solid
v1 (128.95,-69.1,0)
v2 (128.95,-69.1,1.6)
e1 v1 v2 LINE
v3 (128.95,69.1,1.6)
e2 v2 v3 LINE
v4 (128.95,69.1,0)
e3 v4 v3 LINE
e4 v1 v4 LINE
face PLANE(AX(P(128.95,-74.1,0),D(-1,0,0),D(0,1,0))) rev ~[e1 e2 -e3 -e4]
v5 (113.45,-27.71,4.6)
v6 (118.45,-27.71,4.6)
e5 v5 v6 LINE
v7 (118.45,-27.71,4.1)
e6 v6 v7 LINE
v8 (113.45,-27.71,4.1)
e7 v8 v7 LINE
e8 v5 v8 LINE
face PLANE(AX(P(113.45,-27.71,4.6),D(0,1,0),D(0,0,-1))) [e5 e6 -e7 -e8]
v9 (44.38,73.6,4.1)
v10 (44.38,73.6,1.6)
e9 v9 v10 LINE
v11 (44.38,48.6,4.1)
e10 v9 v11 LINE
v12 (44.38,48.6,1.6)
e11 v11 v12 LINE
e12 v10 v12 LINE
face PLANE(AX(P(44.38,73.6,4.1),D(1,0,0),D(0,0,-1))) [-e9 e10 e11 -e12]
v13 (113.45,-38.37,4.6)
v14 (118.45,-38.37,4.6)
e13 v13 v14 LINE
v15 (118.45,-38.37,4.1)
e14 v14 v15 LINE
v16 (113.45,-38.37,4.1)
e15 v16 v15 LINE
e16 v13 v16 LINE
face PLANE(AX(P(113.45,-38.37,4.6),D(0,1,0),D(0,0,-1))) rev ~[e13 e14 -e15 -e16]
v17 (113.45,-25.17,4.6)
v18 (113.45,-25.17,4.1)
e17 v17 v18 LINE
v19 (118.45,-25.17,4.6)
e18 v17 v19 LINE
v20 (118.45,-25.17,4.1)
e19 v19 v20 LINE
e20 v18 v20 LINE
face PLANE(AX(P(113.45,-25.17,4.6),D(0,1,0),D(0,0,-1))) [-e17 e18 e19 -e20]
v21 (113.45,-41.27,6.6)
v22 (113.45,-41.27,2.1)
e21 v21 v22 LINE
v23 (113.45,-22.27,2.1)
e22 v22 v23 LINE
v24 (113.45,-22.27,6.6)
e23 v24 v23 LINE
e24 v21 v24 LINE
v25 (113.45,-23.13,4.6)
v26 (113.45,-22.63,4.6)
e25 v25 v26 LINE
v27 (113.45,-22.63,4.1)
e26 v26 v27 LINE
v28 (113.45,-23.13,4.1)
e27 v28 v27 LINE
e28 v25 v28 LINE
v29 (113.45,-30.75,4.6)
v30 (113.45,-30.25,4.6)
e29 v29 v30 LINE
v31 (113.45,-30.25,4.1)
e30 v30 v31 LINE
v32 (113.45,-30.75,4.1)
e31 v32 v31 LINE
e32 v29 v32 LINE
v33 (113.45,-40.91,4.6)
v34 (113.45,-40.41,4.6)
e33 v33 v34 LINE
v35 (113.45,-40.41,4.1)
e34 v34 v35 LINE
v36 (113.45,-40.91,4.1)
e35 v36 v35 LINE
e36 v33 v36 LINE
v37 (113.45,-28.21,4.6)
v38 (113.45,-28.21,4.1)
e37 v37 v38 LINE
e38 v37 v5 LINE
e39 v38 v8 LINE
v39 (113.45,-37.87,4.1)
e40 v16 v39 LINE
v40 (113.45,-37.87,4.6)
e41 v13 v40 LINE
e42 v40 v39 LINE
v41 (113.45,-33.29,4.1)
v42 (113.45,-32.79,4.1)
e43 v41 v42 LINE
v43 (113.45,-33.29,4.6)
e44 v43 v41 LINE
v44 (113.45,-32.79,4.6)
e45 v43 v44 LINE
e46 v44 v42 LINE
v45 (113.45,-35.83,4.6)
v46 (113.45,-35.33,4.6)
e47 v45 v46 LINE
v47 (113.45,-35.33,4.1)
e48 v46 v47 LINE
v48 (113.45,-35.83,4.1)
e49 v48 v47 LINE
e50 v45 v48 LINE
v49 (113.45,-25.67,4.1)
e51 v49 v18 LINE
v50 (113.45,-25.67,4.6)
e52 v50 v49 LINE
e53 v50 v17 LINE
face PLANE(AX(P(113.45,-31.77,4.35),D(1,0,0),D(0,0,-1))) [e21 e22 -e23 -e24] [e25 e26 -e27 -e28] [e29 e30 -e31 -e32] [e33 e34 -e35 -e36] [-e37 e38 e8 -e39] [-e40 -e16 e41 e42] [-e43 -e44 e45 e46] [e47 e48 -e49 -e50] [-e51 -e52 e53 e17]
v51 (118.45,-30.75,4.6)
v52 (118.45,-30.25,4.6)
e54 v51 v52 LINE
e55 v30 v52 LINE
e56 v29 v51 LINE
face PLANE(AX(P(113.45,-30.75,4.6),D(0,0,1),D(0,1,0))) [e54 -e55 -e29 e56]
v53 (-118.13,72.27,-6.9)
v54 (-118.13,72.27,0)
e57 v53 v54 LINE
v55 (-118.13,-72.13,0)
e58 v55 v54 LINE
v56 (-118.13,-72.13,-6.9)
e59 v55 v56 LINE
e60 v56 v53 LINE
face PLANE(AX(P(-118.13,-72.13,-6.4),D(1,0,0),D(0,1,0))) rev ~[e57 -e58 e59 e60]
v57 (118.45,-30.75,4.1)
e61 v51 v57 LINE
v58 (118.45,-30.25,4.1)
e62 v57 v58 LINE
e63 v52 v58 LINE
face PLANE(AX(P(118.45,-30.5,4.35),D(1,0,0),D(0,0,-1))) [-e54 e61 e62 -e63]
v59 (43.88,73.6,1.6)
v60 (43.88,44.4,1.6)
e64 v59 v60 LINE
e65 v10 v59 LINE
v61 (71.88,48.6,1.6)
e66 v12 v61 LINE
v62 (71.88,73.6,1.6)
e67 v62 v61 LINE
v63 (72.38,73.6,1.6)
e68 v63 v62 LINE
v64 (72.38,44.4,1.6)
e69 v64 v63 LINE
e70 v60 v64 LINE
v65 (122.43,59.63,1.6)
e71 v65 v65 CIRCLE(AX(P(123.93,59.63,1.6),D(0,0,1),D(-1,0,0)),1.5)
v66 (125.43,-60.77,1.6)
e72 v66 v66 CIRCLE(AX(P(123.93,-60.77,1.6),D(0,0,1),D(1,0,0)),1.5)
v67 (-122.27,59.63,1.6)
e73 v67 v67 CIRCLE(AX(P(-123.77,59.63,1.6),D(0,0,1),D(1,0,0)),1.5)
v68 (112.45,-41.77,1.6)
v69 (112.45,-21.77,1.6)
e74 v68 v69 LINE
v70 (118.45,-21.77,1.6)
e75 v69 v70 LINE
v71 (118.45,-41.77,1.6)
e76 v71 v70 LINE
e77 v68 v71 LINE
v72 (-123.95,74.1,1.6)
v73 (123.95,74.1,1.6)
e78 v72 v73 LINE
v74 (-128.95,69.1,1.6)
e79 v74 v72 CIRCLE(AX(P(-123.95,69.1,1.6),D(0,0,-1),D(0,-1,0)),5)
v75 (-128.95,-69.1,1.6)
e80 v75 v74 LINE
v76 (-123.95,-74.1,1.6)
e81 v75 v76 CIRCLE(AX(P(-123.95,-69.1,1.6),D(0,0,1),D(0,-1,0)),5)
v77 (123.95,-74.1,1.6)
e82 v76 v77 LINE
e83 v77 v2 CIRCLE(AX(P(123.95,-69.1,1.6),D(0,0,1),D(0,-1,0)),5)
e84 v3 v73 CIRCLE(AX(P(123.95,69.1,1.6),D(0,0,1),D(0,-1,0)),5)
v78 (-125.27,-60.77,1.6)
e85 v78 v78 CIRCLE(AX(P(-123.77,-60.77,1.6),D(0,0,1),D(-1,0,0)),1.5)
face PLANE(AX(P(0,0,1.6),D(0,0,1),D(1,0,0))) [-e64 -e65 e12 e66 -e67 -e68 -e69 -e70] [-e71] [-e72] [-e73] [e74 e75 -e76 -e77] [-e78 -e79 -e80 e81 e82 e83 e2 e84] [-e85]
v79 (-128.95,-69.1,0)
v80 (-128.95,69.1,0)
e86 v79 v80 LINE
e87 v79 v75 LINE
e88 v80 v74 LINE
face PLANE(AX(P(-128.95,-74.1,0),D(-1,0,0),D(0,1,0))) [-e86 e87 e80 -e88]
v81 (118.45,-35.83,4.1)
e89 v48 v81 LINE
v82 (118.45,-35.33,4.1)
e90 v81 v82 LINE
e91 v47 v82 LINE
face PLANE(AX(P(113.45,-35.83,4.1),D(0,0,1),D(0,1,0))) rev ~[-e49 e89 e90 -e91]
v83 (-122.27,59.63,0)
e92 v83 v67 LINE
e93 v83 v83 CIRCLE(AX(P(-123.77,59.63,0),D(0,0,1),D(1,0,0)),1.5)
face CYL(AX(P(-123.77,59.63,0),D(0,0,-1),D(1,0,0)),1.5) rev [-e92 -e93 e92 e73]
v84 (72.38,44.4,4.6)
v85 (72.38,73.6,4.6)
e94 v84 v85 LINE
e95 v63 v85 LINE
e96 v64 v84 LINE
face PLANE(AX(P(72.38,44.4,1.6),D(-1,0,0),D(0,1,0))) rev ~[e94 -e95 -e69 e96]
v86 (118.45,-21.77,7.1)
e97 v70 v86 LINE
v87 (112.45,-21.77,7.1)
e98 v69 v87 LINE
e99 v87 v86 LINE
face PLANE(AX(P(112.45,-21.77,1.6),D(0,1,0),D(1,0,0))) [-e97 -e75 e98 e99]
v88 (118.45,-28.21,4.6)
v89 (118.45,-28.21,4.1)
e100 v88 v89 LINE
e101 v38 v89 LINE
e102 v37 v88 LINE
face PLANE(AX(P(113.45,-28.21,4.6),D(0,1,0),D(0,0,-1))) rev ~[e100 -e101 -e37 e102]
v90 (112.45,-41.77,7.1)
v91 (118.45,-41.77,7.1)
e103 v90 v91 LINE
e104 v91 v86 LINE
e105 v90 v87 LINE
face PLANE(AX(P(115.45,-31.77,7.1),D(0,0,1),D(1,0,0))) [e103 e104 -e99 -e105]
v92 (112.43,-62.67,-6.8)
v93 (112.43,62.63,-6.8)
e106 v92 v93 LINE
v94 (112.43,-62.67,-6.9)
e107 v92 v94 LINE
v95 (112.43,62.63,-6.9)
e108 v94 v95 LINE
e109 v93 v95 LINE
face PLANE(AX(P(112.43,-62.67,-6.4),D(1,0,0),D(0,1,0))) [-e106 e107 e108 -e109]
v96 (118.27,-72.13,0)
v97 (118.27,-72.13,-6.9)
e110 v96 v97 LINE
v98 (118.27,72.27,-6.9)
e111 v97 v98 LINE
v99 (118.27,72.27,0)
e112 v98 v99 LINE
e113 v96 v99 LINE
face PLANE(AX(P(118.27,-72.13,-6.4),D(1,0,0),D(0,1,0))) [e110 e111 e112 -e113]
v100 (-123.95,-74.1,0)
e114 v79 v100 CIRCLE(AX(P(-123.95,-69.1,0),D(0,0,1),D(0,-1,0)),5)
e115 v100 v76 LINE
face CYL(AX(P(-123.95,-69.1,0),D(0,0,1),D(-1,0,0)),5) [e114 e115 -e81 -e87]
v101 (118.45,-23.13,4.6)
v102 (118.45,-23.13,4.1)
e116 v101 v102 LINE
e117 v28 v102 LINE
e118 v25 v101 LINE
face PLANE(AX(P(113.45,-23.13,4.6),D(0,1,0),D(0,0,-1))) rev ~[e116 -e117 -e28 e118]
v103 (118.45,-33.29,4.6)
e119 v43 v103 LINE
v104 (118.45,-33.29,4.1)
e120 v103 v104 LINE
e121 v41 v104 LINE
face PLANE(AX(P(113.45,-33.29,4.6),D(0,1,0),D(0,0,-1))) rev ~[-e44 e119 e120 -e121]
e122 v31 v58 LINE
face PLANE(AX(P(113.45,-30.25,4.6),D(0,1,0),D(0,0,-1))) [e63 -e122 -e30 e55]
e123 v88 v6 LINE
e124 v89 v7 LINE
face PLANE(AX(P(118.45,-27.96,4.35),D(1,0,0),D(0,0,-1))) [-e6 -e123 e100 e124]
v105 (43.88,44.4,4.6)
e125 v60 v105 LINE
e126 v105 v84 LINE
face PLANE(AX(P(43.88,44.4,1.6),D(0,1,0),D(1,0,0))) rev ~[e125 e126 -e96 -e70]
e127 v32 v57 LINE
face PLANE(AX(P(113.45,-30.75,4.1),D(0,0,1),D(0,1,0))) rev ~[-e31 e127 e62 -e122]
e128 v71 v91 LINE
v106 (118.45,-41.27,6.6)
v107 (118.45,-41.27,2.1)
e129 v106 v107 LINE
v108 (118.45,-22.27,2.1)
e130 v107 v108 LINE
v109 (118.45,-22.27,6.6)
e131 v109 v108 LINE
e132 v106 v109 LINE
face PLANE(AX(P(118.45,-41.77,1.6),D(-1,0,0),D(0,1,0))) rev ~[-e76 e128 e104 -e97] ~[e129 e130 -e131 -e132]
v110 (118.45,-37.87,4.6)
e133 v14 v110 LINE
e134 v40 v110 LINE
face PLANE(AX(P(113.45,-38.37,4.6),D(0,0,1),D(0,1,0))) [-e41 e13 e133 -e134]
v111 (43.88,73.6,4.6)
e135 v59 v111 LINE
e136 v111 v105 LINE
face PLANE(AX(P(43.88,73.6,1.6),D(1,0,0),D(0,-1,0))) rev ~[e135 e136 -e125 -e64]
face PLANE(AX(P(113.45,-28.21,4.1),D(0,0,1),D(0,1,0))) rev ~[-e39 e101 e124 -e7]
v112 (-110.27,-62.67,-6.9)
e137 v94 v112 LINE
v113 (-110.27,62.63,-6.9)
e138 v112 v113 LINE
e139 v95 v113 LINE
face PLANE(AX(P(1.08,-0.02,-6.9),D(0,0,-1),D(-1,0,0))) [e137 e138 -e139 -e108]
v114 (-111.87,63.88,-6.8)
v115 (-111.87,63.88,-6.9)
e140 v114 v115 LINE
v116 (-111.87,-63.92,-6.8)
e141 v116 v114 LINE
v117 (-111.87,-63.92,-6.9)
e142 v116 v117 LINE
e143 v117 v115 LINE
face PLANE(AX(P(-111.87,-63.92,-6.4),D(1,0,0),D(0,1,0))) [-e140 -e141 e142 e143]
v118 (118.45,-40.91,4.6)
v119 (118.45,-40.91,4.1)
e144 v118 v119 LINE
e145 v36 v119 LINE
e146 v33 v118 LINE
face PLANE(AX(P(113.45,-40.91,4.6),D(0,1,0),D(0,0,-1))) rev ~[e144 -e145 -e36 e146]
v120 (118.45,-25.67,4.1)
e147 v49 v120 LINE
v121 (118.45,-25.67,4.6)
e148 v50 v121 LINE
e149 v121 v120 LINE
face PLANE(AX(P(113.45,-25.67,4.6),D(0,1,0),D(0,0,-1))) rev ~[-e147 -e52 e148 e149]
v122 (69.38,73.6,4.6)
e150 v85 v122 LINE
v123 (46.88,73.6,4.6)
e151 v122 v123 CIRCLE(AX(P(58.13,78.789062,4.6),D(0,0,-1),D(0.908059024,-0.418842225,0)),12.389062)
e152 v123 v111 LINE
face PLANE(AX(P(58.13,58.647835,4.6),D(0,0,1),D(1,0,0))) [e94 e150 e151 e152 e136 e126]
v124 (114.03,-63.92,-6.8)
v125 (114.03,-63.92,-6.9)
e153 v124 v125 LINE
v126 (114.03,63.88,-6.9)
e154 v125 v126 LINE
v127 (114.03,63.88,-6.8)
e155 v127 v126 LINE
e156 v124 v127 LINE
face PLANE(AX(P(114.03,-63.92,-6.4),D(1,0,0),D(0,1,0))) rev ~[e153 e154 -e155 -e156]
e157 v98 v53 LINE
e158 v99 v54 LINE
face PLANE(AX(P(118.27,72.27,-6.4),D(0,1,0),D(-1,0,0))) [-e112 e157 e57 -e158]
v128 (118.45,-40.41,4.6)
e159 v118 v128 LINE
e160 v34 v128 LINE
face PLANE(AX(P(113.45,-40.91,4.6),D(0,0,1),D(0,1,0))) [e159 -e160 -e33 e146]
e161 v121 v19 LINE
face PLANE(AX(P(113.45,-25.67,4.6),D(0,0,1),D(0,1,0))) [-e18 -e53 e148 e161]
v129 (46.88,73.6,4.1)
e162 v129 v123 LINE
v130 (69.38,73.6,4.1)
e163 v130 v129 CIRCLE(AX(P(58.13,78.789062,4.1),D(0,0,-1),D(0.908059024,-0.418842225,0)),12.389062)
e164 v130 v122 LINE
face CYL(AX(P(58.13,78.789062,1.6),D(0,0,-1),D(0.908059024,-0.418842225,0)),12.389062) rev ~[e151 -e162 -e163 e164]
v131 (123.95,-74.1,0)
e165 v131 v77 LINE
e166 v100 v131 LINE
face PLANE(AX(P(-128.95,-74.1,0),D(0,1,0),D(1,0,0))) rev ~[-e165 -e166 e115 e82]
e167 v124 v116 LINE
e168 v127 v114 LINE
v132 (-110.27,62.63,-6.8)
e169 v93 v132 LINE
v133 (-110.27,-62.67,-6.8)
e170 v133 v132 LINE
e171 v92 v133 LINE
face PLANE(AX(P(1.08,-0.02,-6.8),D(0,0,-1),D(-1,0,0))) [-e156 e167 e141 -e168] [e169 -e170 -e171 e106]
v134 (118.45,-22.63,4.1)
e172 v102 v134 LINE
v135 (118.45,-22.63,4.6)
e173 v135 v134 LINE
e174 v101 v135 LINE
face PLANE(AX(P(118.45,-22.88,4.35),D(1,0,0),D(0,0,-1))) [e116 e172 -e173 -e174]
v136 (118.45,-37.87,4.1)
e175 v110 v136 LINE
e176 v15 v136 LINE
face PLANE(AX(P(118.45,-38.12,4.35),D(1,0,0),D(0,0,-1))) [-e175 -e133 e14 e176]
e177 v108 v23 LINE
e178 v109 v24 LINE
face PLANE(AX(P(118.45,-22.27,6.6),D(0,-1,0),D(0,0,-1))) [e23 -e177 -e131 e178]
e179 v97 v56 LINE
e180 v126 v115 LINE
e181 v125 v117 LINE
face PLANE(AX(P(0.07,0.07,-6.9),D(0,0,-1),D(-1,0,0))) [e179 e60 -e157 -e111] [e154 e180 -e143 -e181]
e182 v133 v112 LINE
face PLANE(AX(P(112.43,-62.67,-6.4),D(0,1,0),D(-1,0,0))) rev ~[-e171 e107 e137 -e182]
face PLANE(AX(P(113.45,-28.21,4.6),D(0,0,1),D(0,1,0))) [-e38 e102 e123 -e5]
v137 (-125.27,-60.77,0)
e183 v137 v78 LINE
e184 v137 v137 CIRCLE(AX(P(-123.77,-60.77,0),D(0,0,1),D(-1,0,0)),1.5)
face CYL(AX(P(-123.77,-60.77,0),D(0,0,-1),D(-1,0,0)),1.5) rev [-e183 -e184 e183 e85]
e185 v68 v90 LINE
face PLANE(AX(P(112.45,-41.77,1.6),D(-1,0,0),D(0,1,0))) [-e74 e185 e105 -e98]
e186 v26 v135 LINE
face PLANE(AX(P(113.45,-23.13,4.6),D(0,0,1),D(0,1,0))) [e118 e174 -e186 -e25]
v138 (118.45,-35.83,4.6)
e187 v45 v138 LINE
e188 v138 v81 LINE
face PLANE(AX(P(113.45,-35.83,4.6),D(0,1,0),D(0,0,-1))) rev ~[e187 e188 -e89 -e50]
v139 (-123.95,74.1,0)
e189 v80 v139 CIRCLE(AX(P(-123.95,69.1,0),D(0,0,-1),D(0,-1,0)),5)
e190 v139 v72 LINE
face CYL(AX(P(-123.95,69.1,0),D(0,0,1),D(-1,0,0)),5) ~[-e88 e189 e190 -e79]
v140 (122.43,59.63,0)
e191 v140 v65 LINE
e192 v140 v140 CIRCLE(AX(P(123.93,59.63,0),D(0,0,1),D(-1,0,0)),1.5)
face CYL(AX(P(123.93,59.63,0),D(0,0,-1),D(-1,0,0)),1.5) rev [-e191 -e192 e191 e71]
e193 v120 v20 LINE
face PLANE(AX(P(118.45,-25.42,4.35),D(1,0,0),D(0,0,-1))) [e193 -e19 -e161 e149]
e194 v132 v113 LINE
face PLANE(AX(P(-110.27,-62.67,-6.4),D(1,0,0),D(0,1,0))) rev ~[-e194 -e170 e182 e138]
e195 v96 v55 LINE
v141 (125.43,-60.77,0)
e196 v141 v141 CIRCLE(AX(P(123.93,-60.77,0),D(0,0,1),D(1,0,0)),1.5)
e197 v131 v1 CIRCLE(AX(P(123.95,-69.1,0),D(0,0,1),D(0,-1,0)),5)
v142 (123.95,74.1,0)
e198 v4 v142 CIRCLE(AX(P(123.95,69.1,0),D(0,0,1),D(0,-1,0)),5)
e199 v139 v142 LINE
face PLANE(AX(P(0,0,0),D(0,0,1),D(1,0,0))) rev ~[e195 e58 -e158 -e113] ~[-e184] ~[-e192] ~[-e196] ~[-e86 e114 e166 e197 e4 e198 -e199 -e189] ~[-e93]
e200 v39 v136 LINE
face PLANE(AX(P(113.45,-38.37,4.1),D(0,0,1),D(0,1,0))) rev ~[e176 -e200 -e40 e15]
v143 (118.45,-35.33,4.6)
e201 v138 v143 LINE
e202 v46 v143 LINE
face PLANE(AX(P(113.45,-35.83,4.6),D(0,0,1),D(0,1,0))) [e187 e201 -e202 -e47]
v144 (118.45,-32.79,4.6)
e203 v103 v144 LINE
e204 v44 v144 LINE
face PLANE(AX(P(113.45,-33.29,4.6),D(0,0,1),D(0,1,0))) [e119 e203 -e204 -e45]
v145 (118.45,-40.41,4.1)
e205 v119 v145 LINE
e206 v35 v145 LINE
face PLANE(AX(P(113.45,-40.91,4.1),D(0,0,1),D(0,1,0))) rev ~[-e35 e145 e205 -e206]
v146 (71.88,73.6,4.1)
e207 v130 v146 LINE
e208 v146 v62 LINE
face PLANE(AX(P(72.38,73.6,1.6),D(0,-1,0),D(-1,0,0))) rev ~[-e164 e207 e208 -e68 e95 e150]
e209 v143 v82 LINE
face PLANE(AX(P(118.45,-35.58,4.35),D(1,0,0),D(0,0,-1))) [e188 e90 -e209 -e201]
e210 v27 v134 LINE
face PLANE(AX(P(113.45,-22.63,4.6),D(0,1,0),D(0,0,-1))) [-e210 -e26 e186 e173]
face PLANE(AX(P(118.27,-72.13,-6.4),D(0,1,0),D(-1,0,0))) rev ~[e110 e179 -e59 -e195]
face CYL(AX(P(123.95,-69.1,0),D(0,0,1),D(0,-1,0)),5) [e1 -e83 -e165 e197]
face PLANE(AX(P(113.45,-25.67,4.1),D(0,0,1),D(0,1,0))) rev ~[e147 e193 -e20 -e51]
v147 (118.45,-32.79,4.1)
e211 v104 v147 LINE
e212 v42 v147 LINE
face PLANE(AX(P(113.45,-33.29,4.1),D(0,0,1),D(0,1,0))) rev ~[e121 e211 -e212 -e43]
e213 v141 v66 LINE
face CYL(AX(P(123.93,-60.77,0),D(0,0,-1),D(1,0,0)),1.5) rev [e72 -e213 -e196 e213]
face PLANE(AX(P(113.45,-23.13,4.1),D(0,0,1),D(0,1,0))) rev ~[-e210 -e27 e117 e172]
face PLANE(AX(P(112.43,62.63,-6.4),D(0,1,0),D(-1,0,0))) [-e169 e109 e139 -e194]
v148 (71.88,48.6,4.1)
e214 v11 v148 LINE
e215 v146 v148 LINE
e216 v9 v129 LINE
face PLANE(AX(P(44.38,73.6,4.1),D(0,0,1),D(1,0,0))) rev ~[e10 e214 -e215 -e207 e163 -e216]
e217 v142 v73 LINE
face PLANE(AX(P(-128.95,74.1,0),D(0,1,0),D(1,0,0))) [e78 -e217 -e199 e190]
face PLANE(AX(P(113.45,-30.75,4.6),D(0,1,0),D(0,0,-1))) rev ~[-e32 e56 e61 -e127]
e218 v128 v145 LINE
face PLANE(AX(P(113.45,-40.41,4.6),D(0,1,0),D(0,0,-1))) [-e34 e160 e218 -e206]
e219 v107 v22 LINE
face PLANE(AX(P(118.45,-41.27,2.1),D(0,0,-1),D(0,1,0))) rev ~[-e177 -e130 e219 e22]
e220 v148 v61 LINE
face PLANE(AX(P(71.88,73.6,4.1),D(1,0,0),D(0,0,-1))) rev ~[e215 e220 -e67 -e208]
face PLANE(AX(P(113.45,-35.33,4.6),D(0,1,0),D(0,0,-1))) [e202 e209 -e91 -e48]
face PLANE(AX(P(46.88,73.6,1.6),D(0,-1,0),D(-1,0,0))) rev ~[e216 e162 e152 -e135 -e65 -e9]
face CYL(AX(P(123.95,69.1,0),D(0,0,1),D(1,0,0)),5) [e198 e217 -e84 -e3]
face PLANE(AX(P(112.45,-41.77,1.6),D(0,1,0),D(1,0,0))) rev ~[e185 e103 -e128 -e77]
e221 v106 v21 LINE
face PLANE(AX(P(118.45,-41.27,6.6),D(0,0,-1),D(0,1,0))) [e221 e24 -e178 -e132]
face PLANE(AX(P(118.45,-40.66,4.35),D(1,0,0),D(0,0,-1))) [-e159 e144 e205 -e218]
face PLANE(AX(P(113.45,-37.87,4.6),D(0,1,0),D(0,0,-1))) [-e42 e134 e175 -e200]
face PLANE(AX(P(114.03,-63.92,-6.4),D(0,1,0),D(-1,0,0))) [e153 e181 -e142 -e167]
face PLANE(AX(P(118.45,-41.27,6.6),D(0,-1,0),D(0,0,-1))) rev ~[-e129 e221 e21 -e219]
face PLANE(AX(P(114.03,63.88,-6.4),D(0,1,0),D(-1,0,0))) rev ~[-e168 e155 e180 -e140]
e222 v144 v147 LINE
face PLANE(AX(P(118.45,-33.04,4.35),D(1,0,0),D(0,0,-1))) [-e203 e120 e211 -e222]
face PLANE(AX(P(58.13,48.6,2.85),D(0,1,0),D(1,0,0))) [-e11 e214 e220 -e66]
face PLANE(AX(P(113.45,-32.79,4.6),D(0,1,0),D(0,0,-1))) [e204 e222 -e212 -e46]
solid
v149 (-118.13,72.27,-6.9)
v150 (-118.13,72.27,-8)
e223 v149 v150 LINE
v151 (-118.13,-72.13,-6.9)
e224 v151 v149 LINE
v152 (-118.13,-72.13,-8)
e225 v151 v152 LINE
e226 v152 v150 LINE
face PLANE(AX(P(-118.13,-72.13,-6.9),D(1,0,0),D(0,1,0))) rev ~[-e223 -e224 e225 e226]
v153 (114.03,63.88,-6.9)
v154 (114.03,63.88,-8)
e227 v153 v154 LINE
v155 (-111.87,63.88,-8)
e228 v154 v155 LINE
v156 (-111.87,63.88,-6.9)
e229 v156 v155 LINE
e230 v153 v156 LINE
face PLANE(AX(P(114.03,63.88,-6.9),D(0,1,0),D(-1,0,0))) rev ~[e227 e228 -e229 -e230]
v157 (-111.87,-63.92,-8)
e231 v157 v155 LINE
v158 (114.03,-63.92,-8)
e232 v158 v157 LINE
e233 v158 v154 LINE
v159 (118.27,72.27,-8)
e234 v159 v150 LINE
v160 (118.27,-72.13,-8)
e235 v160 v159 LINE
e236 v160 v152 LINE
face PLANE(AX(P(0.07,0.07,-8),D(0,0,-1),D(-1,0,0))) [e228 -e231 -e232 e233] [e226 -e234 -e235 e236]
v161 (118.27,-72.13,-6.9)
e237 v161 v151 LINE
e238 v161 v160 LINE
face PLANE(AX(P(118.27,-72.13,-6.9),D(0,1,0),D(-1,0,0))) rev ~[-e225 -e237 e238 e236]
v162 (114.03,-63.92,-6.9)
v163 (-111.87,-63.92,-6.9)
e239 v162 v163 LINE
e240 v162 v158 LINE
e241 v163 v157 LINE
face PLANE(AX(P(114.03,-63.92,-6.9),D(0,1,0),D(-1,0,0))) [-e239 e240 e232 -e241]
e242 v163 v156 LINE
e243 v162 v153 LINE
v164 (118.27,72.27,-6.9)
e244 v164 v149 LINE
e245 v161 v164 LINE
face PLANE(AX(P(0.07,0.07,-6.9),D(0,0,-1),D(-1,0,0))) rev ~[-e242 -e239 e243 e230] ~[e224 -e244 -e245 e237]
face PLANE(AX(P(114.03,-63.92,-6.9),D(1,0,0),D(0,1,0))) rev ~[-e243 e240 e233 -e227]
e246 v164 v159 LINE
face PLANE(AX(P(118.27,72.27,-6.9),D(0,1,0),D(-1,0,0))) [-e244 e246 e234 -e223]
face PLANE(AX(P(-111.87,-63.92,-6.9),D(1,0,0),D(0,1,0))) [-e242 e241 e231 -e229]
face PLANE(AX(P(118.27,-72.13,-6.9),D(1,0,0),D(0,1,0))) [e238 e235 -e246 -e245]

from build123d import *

# Parameters (mm, degrees)
SKETCH_1_W            = 257.9
SKETCH_1_H            = 148.2
EXTRUDE_1_DEPTH       = 1.6
FILLET_1_R            = 5
SKETCH_2_R            = 1.5
CUT_EXTRUDE_864_DEPTH = 1.6
SKETCH_3_W            = 236.4
SKETCH_3_H            = 144.4
EXTRUDE_1149_DEPTH    = 6.4
SKETCH_4_W            = 236.4
SKETCH_4_H            = 144.4
SKETCH_4_W_2          = 225.9
SKETCH_4_H_2          = 127.8
EXTRUDE_1442_DEPTH    = 0.5
SKETCH_5_W            = 222.7
SKETCH_5_H            = 125.3
EXTRUDE_1729_DEPTH    = 0.5
SKETCH_6_W            = 225.9
SKETCH_6_H            = 127.8
SKETCH_6_W_2          = 222.7
SKETCH_6_H_2          = 125.3
EXTRUDE_2020_DEPTH    = 0.4
SKETCH_7_W            = 6
SKETCH_7_H            = 20
EXTRUDE_4_DEPTH       = 5.5
SKETCH_8_W            = 4.5
SKETCH_8_H            = 19
CUT_EXTRUDE_1_DEPTH   = 5
SKETCH_9_W            = 0.5
SKETCH_9_H            = 0.5
EXTRUDE_5_DEPTH       = 5
EXTRUDE_6_DEPTH       = 3
SKETCH_11_W           = 27.5
SKETCH_11_H           = 2.5
CUT_EXTRUDE_2_DEPTH   = 25
SKETCH_14_W           = 236.4
SKETCH_14_H           = 144.4
SKETCH_14_W_2         = 225.9
SKETCH_14_H_2         = 127.8
EXTRUDE_4115_DEPTH    = 1.1


with BuildPart() as part:
    # 草图1 → 凸台-拉伸1 (new body)
    with BuildSketch(Plane.XY):
        Rectangle(SKETCH_1_W, SKETCH_1_H)
    extrude(amount=EXTRUDE_1_DEPTH)

    # 圆角1
    fillet_1_edges = [part.edges().sort_by_distance(p)[0] for p in [
        (-128.95, 74.1, 0.8),
        (128.95, 74.1, 0.8),
        (128.95, -74.1, 0.8),
        (-128.95, -74.1, 0.8),
    ]]
    fillet(fillet_1_edges, radius=FILLET_1_R)

    # 草图2 → Cut-Extrude 864 (cut)
    with BuildSketch(Plane.XY):
        with Locations((-123.77, 59.63)):
            Circle(SKETCH_2_R)
        with Locations(Location((123.93, 59.63, 0), (0, 0, 180))):
            Circle(SKETCH_2_R)
        with Locations((123.93, -60.77)):
            Circle(SKETCH_2_R)
        with Locations(Location((-123.77, -60.77, 0), (0, 0, 180))):
            Circle(SKETCH_2_R)
    extrude(amount=CUT_EXTRUDE_864_DEPTH, mode=Mode.SUBTRACT)

    # 草图3 → Extrude 1149 (add)
    with BuildSketch(Plane(origin=(0, 0, 0), x_dir=(-1, 0, 0), z_dir=(0, 0, -1))):
        with Locations((-0.07, 0.07)):
            Rectangle(SKETCH_3_W, SKETCH_3_H)
    extrude(amount=EXTRUDE_1149_DEPTH)

    # 草图4 → Extrude 1442 (add)
    with BuildSketch(Plane(origin=(0, 0, -6.4), x_dir=(-1, 0, 0), z_dir=(0, 0, -1))):
        with Locations((-0.07, 0.07)):
            Rectangle(SKETCH_4_W, SKETCH_4_H)
        with Locations((-1.08, -0.02)):
            Rectangle(SKETCH_4_W_2, SKETCH_4_H_2, mode=Mode.SUBTRACT)
    extrude(amount=EXTRUDE_1442_DEPTH)

    # 草图5 → Extrude 1729 (add)
    with BuildSketch(Plane(origin=(0, 0, -6.4), x_dir=(-1, 0, 0), z_dir=(0, 0, -1))):
        with Locations((-1.08, -0.02)):
            Rectangle(SKETCH_5_W, SKETCH_5_H)
    extrude(amount=EXTRUDE_1729_DEPTH)

    # 草图6 → Extrude 2020 (add)
    with BuildSketch(Plane(origin=(0, 0, -6.4), x_dir=(-1, 0, 0), z_dir=(0, 0, -1))):
        with Locations((-1.08, -0.02)):
            Rectangle(SKETCH_6_W, SKETCH_6_H)
        with Locations((-1.08, -0.02)):
            Rectangle(SKETCH_6_W_2, SKETCH_6_H_2, mode=Mode.SUBTRACT)
    extrude(amount=EXTRUDE_2020_DEPTH)

    # 草图7 → 凸台-拉伸4 (add)
    with BuildSketch(Plane.XY.offset(1.6)):
        with Locations((115.45, -31.77)):
            Rectangle(SKETCH_7_W, SKETCH_7_H)
    extrude(amount=EXTRUDE_4_DEPTH)

    # 草图8 → 切除-拉伸1 (cut)
    with BuildSketch(Plane(origin=(118.45, 0, 0), x_dir=(0, 0, -1), z_dir=(1, 0, 0))):
        with Locations((-4.35, -31.77)):
            Rectangle(SKETCH_8_W, SKETCH_8_H)
    extrude(amount=-CUT_EXTRUDE_1_DEPTH, mode=Mode.SUBTRACT)

    # 草图9 → 凸台-拉伸5 (add)
    with BuildSketch(Plane(origin=(113.45, 0, 0), x_dir=(0, 0, -1), z_dir=(1, 0, 0))):
        with Locations((-4.35, -30.5)):
            Rectangle(SKETCH_9_W, SKETCH_9_H)
        with Locations((-4.35, -27.96)):
            Rectangle(SKETCH_9_W, SKETCH_9_H)
        with Locations((-4.35, -25.42)):
            Rectangle(SKETCH_9_W, SKETCH_9_H)
        with Locations((-4.35, -22.88)):
            Rectangle(SKETCH_9_W, SKETCH_9_H)
        with Locations((-4.35, -40.66)):
            Rectangle(SKETCH_9_W, SKETCH_9_H)
        with Locations((-4.35, -38.12)):
            Rectangle(SKETCH_9_W, SKETCH_9_H)
        with Locations((-4.35, -35.58)):
            Rectangle(SKETCH_9_W, SKETCH_9_H)
        with Locations((-4.35, -33.04)):
            Rectangle(SKETCH_9_W, SKETCH_9_H)
    extrude(amount=EXTRUDE_5_DEPTH)

    # 草图10 → 凸台-拉伸6 (add)
    with BuildSketch(Plane.XY.offset(1.6)):
        with BuildLine():
            Line((46.88, 73.6), (43.88, 73.6))
            Line((43.88, 73.6), (43.88, 44.4))
            Line((43.88, 44.4), (72.38, 44.4))
            Line((72.38, 44.4), (72.38, 73.6))
            Line((72.38, 73.6), (69.38, 73.6))
            ThreePointArc((69.38, 73.6), (58.13, 66.4), (46.88, 73.6))
        make_face()
    extrude(amount=EXTRUDE_6_DEPTH)

    # 草图11 → 切除-拉伸2 (cut)
    with BuildSketch(Plane(origin=(0, 73.6, 0), x_dir=(1, 0, 0), z_dir=(0, 1, 0))):
        with Locations((58.13, -2.85)):
            Rectangle(SKETCH_11_W, SKETCH_11_H)
    extrude(amount=-CUT_EXTRUDE_2_DEPTH, mode=Mode.SUBTRACT)


with BuildPart() as body_2:
    # 草图14 → Extrude 4115 (new body)
    with BuildSketch(Plane(origin=(0, 0, -6.9), x_dir=(-1, 0, 0), z_dir=(0, 0, -1))):
        with Locations((-0.07, 0.07)):
            Rectangle(SKETCH_14_W, SKETCH_14_H)
        with Locations((-1.08, -0.02)):
            Rectangle(SKETCH_14_W_2, SKETCH_14_H_2, mode=Mode.SUBTRACT)
    extrude(amount=EXTRUDE_4115_DEPTH)


solid = Compound([part.part, body_2.part])
